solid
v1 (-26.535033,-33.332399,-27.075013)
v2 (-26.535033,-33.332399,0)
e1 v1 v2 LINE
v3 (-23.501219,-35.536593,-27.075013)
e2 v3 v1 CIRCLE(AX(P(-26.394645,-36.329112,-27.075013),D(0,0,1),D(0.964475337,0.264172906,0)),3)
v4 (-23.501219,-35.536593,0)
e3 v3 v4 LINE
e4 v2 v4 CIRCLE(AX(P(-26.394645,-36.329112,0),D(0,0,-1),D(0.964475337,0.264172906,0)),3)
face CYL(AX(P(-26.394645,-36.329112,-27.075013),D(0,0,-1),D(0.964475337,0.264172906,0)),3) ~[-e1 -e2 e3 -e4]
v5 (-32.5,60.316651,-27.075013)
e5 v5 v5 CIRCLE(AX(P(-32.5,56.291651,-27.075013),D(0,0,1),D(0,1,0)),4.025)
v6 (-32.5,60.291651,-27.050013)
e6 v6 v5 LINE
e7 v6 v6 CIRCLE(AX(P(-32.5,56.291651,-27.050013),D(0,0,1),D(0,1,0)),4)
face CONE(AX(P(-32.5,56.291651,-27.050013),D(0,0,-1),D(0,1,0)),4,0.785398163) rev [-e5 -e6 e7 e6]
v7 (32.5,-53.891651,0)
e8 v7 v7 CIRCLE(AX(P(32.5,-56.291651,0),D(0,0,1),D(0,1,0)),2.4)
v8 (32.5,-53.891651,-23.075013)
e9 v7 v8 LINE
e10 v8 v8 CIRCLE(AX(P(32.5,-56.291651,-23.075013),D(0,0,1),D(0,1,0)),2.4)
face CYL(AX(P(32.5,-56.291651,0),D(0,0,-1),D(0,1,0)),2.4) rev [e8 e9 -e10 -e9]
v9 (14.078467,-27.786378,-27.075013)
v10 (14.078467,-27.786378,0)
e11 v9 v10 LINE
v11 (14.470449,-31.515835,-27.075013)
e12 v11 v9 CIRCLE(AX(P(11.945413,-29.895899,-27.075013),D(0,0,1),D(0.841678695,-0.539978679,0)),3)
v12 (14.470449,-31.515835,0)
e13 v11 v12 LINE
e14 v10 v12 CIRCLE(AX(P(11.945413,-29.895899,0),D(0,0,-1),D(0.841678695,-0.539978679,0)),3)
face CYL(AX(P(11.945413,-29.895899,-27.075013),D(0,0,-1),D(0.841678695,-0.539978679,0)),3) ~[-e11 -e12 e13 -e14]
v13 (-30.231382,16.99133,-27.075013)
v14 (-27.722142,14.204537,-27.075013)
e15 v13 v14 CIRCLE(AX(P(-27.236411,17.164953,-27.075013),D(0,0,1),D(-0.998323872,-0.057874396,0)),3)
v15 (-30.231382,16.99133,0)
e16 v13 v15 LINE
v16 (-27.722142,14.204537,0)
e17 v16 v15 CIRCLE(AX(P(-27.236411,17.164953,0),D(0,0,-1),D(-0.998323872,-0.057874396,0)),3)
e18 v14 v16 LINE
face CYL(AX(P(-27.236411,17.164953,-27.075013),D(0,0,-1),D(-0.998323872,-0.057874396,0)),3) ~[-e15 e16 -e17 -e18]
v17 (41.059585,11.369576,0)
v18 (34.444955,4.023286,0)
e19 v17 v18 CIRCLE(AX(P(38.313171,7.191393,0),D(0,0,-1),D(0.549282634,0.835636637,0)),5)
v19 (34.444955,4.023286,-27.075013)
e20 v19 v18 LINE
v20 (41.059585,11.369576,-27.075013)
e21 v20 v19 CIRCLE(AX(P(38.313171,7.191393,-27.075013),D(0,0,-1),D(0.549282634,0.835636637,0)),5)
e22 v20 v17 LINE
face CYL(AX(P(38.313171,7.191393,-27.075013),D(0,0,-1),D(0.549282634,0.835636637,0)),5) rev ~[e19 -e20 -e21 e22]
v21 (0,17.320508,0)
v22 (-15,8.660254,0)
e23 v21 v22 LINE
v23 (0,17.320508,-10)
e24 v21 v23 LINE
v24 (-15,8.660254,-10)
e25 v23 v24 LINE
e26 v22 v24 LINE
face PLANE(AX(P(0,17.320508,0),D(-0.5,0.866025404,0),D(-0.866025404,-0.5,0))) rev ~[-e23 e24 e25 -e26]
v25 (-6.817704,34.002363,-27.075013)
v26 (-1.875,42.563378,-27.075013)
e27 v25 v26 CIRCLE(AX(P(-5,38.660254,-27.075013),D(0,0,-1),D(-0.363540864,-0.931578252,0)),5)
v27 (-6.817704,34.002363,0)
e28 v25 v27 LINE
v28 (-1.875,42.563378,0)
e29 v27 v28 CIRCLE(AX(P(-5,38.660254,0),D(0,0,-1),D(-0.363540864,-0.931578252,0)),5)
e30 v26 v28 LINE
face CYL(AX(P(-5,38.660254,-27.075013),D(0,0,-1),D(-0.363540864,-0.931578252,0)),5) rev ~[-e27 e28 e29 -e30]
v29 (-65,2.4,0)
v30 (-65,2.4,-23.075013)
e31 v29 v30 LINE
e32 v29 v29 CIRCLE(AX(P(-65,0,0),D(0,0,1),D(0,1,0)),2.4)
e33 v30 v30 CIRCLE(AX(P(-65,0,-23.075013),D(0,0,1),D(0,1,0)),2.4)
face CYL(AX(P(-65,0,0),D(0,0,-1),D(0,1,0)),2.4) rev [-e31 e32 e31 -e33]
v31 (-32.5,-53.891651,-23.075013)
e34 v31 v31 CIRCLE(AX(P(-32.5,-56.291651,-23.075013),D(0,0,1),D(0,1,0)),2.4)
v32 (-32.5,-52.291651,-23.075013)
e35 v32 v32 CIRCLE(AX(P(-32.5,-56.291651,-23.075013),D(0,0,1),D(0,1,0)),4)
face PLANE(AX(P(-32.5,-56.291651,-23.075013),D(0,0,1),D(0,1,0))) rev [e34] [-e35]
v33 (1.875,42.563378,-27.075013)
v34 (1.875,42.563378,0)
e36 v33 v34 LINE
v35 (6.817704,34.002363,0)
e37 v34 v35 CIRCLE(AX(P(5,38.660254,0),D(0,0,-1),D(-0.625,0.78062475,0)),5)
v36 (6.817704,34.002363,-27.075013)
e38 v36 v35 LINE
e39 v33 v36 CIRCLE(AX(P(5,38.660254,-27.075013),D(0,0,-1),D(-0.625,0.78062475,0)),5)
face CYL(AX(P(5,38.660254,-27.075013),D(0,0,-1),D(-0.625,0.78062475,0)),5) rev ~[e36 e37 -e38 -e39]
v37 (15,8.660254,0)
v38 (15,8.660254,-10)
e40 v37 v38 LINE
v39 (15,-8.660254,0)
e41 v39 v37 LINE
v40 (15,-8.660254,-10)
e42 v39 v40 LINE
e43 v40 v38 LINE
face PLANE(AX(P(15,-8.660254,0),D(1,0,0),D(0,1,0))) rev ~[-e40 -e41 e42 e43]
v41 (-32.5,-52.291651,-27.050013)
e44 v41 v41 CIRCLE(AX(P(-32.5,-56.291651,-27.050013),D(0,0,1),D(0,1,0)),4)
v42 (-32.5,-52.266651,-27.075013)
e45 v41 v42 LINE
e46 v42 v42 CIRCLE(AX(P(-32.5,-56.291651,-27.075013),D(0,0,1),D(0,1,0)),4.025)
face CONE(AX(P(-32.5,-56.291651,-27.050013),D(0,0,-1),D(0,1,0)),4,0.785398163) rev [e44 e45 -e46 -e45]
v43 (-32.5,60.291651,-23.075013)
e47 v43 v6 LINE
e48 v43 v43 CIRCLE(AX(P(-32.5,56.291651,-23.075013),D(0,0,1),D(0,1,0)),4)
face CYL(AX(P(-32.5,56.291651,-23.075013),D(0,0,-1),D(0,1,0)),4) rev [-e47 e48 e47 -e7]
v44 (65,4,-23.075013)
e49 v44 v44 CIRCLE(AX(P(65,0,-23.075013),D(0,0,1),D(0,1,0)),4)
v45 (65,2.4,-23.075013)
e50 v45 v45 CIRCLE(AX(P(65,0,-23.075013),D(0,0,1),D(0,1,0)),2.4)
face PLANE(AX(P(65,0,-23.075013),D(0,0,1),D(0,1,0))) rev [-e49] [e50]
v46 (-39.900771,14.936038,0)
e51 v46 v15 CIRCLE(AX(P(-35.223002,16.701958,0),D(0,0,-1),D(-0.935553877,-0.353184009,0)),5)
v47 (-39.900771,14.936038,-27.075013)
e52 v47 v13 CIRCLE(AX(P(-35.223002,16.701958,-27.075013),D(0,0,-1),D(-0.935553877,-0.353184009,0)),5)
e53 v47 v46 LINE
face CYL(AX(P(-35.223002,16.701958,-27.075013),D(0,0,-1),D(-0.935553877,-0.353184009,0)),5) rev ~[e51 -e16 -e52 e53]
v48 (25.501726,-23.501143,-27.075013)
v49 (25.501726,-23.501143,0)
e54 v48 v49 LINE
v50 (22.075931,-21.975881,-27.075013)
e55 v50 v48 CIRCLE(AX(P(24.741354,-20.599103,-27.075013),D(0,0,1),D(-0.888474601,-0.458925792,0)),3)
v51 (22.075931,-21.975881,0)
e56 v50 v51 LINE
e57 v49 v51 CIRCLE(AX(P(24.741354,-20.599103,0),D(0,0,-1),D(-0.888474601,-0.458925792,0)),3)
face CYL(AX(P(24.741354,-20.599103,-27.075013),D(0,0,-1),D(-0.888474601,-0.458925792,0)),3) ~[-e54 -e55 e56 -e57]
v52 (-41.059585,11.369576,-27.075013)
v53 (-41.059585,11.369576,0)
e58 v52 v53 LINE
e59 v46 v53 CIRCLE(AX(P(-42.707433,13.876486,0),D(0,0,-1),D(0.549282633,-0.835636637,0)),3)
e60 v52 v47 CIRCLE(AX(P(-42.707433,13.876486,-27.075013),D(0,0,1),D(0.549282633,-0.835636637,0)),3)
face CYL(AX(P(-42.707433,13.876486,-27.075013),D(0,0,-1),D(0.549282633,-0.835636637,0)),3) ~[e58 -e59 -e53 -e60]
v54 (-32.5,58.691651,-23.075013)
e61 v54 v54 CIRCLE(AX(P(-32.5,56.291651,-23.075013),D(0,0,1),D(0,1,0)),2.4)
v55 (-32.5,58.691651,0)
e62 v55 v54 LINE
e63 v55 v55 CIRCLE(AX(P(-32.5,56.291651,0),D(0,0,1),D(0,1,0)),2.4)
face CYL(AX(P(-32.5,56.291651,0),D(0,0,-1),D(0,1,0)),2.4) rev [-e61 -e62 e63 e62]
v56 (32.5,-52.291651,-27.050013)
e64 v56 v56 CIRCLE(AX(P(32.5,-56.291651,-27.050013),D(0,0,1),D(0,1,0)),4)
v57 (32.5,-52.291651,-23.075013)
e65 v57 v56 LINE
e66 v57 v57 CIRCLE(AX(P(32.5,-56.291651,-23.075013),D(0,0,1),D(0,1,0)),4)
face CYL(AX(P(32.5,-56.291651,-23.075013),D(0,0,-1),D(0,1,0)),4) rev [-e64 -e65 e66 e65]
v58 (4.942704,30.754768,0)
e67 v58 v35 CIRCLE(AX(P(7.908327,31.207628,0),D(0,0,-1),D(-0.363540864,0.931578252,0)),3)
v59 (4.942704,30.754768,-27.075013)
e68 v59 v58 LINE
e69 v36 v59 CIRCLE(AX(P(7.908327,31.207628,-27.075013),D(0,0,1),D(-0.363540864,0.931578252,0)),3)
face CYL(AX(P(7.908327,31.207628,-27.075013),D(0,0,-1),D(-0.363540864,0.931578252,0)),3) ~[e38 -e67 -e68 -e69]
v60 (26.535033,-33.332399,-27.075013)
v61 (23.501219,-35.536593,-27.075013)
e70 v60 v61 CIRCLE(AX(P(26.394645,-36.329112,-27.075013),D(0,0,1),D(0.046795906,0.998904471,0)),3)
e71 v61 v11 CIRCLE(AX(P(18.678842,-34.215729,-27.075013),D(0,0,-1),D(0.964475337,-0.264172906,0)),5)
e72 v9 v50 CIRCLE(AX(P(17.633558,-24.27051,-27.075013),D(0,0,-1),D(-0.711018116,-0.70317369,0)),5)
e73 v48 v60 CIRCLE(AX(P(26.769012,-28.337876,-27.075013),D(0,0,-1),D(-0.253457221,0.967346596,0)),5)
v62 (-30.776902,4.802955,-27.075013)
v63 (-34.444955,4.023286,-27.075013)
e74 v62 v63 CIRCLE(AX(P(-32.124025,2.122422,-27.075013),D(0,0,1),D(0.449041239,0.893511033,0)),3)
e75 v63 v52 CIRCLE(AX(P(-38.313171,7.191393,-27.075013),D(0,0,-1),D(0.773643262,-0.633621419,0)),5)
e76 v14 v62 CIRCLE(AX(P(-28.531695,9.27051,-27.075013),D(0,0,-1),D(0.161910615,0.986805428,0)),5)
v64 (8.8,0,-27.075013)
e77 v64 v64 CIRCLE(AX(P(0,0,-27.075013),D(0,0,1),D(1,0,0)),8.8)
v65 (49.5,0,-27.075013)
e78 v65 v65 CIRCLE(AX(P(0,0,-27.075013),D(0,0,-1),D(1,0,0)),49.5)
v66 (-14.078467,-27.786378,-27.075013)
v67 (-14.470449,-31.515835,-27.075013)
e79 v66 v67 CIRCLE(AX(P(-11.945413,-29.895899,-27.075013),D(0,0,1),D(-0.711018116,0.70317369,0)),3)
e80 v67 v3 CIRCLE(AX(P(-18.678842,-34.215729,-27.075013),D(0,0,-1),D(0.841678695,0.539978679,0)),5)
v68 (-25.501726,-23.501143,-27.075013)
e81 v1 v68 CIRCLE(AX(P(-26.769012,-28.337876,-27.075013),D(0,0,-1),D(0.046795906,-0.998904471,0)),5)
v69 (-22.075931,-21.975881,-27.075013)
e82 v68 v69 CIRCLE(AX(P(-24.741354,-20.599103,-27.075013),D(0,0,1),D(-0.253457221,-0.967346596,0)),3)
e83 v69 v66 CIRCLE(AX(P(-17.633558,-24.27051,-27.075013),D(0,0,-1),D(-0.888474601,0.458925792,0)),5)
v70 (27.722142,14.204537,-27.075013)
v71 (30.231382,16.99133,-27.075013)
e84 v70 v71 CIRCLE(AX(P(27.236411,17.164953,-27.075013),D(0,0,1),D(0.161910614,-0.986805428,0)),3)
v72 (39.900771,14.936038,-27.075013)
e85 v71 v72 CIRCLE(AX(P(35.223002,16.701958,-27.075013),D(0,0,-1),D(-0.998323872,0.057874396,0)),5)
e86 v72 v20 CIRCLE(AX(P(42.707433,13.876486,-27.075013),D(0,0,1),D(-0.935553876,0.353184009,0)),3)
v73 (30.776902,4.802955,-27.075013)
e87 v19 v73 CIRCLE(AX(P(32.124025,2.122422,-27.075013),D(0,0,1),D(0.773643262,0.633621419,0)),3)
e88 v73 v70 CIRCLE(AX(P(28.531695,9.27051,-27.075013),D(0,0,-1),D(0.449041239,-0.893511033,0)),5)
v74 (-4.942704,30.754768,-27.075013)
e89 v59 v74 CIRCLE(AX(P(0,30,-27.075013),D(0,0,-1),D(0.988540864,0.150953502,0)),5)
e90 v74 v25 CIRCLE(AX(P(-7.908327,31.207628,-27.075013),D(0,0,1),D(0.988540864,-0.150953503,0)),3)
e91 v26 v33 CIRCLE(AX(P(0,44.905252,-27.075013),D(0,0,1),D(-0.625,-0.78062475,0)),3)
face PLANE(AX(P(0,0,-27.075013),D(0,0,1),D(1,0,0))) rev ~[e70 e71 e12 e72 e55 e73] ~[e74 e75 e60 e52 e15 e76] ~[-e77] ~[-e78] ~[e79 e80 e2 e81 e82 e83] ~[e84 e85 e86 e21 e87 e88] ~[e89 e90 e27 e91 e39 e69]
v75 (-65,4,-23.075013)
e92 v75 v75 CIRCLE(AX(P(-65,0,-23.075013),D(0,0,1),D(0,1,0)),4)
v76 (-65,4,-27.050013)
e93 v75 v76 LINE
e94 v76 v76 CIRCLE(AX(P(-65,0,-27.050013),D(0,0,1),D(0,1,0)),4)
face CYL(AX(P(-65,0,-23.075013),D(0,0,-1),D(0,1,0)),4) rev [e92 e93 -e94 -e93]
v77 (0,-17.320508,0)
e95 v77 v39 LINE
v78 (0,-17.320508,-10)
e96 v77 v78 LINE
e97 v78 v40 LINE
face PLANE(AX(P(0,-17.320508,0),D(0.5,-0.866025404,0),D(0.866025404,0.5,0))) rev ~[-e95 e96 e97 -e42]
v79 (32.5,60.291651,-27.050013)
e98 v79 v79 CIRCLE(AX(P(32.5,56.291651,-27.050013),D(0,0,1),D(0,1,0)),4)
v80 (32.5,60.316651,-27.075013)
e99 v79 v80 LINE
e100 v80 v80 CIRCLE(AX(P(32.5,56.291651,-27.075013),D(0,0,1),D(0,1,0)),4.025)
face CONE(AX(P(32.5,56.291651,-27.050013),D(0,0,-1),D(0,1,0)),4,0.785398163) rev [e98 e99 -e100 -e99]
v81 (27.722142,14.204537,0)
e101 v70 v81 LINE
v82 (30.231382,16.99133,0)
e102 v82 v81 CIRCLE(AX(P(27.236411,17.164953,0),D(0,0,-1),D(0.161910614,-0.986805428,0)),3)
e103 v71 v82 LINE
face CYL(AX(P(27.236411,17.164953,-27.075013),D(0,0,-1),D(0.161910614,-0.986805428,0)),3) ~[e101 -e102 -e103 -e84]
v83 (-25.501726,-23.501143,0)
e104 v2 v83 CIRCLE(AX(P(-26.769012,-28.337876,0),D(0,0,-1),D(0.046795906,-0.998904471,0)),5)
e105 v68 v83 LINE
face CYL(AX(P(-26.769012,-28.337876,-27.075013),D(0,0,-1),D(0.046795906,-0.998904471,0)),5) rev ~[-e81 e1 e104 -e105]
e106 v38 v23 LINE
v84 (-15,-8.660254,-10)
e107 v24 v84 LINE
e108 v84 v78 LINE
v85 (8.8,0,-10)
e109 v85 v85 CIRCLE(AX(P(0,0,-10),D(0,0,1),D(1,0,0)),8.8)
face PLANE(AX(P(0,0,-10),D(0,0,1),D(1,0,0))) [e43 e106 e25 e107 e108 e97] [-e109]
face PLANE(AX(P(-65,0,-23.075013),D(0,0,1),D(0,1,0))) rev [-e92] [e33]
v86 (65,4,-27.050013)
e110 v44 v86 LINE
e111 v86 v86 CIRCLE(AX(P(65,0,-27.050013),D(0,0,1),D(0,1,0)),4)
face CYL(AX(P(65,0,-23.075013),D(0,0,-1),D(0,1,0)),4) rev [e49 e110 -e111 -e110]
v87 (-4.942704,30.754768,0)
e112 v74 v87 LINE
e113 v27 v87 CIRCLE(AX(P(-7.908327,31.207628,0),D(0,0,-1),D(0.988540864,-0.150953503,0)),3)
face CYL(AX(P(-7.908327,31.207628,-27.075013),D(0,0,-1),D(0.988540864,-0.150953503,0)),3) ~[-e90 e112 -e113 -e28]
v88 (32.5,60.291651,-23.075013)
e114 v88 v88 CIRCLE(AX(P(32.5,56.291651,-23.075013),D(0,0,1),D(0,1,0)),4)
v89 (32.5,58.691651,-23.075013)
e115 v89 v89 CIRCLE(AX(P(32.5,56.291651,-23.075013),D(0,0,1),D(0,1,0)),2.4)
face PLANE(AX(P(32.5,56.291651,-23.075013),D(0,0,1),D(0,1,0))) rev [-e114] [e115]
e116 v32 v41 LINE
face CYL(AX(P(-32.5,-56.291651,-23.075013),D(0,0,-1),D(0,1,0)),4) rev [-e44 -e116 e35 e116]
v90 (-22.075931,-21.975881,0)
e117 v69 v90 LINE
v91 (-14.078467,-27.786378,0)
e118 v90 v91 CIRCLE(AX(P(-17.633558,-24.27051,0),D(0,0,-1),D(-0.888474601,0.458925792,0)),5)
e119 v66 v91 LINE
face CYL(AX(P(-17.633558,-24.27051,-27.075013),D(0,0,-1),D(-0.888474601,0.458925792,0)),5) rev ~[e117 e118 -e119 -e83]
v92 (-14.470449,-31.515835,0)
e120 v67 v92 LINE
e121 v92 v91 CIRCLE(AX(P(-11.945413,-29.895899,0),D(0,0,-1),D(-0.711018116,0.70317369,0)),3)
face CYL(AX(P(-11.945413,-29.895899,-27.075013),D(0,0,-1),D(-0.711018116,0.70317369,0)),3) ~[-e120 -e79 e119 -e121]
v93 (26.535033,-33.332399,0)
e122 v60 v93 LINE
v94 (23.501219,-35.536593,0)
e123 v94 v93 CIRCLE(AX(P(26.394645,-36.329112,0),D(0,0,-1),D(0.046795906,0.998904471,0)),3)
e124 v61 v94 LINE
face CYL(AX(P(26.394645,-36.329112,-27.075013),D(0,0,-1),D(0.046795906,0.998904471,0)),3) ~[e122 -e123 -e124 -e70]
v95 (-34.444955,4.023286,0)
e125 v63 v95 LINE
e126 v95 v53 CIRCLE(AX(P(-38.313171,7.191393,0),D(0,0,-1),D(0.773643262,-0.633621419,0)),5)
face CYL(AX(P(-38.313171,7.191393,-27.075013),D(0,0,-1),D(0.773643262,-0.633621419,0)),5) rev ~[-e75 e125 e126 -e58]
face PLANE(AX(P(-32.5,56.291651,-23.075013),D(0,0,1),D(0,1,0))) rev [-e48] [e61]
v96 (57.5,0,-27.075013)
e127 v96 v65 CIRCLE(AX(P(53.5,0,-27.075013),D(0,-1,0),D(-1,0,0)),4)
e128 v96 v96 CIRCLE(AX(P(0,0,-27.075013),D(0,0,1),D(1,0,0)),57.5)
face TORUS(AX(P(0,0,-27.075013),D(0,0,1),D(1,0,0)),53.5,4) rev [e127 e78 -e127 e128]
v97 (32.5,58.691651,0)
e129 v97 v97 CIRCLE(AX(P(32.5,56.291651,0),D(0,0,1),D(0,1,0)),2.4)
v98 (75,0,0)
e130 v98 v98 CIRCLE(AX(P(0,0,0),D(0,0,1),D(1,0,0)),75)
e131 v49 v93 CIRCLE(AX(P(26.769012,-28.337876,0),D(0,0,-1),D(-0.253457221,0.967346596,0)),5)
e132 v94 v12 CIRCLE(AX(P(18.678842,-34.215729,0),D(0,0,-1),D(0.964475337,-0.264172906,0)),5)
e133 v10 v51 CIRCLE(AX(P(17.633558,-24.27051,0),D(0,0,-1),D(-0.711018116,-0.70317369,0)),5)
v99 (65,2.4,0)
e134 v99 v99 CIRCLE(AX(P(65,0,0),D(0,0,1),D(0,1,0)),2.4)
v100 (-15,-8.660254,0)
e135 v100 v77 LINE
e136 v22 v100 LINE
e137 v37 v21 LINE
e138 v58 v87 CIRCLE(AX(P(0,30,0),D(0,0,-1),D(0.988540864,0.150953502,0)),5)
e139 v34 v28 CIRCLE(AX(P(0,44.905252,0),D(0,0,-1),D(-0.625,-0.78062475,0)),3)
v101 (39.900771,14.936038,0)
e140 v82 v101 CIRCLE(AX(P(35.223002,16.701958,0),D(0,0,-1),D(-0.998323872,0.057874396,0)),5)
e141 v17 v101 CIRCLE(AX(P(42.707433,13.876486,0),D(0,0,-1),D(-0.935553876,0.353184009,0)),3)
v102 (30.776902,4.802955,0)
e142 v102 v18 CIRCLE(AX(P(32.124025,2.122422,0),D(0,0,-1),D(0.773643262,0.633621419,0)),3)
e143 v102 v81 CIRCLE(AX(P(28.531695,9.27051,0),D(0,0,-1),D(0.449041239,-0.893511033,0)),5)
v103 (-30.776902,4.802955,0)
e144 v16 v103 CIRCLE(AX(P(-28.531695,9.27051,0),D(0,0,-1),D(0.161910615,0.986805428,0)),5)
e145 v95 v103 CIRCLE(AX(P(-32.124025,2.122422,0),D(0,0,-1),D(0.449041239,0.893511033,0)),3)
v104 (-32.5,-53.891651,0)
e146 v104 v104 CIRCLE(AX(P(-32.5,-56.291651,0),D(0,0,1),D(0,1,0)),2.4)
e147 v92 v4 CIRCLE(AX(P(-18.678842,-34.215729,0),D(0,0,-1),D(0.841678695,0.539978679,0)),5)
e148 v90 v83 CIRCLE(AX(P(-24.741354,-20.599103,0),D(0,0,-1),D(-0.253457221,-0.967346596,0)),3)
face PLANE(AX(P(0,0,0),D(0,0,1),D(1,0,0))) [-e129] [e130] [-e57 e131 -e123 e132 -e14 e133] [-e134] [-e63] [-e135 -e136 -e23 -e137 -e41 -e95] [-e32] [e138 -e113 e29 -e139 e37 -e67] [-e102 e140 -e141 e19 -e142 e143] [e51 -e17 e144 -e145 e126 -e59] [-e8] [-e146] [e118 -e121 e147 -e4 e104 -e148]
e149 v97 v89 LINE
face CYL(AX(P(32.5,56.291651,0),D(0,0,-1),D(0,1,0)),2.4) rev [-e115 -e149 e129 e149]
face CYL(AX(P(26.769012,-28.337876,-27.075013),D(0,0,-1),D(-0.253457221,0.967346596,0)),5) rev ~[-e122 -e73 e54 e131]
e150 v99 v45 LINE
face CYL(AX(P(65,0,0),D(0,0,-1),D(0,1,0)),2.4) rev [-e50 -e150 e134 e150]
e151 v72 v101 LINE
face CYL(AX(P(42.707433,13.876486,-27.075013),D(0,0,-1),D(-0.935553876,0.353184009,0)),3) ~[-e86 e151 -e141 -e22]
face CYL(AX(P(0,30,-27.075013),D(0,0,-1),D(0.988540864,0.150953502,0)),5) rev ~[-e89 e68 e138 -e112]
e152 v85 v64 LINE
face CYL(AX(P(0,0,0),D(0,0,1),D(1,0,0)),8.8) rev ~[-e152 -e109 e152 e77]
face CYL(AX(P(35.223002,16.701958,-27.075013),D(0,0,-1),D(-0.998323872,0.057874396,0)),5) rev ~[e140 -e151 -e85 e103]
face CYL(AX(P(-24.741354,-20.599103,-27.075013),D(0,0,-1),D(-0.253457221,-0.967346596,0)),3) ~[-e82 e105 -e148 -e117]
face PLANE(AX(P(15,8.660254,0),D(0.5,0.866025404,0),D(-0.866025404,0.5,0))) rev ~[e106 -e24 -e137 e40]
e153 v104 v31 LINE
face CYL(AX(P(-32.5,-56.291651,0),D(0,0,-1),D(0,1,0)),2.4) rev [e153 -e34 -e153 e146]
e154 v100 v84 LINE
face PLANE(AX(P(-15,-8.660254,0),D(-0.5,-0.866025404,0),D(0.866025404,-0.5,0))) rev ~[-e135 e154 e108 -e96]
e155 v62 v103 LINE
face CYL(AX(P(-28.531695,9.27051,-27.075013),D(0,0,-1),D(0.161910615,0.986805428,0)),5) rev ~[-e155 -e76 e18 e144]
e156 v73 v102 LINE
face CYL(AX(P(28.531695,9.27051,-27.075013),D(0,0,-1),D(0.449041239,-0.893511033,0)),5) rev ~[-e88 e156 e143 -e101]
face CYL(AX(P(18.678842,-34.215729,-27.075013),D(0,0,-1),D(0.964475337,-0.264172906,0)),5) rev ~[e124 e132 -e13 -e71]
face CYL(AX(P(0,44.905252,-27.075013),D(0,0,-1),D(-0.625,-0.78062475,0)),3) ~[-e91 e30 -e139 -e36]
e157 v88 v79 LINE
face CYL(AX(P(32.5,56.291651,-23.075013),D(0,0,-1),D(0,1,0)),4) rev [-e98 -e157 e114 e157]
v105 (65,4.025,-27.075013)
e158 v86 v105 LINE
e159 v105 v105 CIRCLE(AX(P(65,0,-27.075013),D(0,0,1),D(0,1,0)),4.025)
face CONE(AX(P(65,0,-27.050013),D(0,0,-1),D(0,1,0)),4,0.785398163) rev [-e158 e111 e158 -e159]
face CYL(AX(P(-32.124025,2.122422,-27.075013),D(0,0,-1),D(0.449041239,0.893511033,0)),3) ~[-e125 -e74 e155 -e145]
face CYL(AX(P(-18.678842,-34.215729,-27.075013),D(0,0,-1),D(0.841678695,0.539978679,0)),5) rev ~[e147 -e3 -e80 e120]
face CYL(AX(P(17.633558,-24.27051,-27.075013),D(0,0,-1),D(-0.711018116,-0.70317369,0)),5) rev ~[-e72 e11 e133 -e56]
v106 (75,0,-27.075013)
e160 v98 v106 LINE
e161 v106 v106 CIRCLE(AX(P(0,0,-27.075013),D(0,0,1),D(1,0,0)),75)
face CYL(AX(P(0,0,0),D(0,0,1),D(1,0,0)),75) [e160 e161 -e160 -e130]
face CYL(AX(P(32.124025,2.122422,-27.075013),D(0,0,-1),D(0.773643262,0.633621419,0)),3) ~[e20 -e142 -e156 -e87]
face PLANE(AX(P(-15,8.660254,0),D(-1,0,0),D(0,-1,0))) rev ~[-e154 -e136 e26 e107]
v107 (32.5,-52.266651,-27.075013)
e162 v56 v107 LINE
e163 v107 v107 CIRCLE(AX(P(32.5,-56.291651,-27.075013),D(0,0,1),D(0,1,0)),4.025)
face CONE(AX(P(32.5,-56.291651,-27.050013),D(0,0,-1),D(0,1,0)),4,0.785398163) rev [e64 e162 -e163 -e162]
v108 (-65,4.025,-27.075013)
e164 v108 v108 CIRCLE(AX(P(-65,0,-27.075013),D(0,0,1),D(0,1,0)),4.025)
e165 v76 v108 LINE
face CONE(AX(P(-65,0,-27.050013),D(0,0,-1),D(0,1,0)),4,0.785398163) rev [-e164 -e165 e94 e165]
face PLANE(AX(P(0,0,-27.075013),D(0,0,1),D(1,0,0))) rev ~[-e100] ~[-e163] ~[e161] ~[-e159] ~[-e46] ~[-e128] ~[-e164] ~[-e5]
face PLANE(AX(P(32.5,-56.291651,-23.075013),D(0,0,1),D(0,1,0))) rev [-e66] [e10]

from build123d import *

# Parameters (mm, degrees)
ESBO_O1_R                        = 75
RESSALTO_EXTRUS_O1_DEPTH         = 27.075013067
ESBO_O2_R                        = 8.8
CORTE_EXTRUS_O1_DEPTH            = 110.467147275
CORTE_EXTRUS_O2_DEPTH            = 10
REBAIXO_PARA_SHCS_M41_AT_2_COUNT = 2
REBAIXO_PARA_SHCS_M41_AT_2_PITCH = 65
REBAIXO_PARA_SHCS_M41_AT_3_COUNT = 2
REBAIXO_PARA_SHCS_M41_AT_3_PITCH = 112.583302492
REBAIXO_PARA_SHCS_M41_AT_4_COUNT = 2
REBAIXO_PARA_SHCS_M41_AT_4_PITCH = 130
REBAIXO_PARA_SHCS_M41_AT_5_COUNT = 2
REBAIXO_PARA_SHCS_M41_AT_5_PITCH = 65
REBAIXO_PARA_SHCS_M41_AT_6_COUNT = 2
REBAIXO_PARA_SHCS_M41_AT_6_PITCH = 112.583302492
CORTE_EXTRUS_O3_DEPTH            = 110.467147275
PADR_OCIRCULAR1_COUNT            = 5
ESBO_O9_R                        = 4


with BuildPart() as part:
    # Esboço1 → Ressalto-extrusão1 (new body)
    with BuildSketch(Plane.XY):
        Circle(ESBO_O1_R)
    extrude(amount=-RESSALTO_EXTRUS_O1_DEPTH)

    # Esboço2 → Corte-extrusão1 (cut, through all)
    with BuildSketch(Plane.XY):
        Circle(ESBO_O2_R)
    extrude(amount=-CORTE_EXTRUS_O1_DEPTH, mode=Mode.SUBTRACT)

    # Esboço3 → Corte-extrusão2 (cut)
    with BuildSketch(Plane.XY):
        Polygon((0, 17.320508076), (-15, 8.660254038), (-15, -8.660254038), (0, -17.320508076), (15, -8.660254038), (15, 8.660254038), align=None)
    extrude(amount=-CORTE_EXTRUS_O2_DEPTH, mode=Mode.SUBTRACT)

    # Esboço5 → Rebaixo para SHCS M41 (revolve, cut)
    with BuildSketch(Plane(origin=(65, 0, -27.075013067), x_dir=(0, 1, 0), z_dir=(1, 0, 0))):
        Polygon((0, 0), (0, 27.075013067), (2.4, 27.075013067), (2.4, 4), (4, 4), (4, 0.025), (4.025, 0), align=None)
    rebaixo_para_shcs_m41 = revolve(axis=Axis((65, 0, -33.425013067), (0, 0, 1)), mode=Mode.SUBTRACT)

    # Rebaixo para SHCS M41 at 2: Rebaixo para SHCS M41 ×2
    with Locations(*[Vector(-0.49999999999999795, 0.8660254037844399, 0) * (i * REBAIXO_PARA_SHCS_M41_AT_2_PITCH) for i in range(1, REBAIXO_PARA_SHCS_M41_AT_2_COUNT)]):
        add(rebaixo_para_shcs_m41, mode=Mode.SUBTRACT)

    # Rebaixo para SHCS M41 at 3: Rebaixo para SHCS M41 ×2
    with Locations(*[Vector(-0.866025403784438, 0.500000000000001, 0) * (i * REBAIXO_PARA_SHCS_M41_AT_3_PITCH) for i in range(1, REBAIXO_PARA_SHCS_M41_AT_3_COUNT)]):
        add(rebaixo_para_shcs_m41, mode=Mode.SUBTRACT)

    # Rebaixo para SHCS M41 at 4: Rebaixo para SHCS M41 ×2
    with Locations(*[(-i * REBAIXO_PARA_SHCS_M41_AT_4_PITCH, 0, 0) for i in range(1, REBAIXO_PARA_SHCS_M41_AT_4_COUNT)]):
        add(rebaixo_para_shcs_m41, mode=Mode.SUBTRACT)

    # Rebaixo para SHCS M41 at 5: Rebaixo para SHCS M41 ×2
    with Locations(*[Vector(-0.500000000000004, -0.8660254037844364, 0) * (i * REBAIXO_PARA_SHCS_M41_AT_5_PITCH) for i in range(1, REBAIXO_PARA_SHCS_M41_AT_5_COUNT)]):
        add(rebaixo_para_shcs_m41, mode=Mode.SUBTRACT)

    # Rebaixo para SHCS M41 at 6: Rebaixo para SHCS M41 ×2
    with Locations(*[Vector(-0.8660254037844416, -0.499999999999995, 0) * (i * REBAIXO_PARA_SHCS_M41_AT_6_PITCH) for i in range(1, REBAIXO_PARA_SHCS_M41_AT_6_COUNT)]):
        add(rebaixo_para_shcs_m41, mode=Mode.SUBTRACT)

    # Esboço6 → Corte-extrusão3 (cut, through all)
    with BuildSketch(Plane(origin=(0, 0, -27.075013067), x_dir=(-1, 0, 0), z_dir=(0, 0, -1))):
        with BuildLine():
            ThreePointArc((-1.875, 42.563377787), (-9.330127019, 41.160254038), (-6.817704321, 34.002362777))
            ThreePointArc((-6.817704321, 34.002362777), (-5.310250702, 32.70762802), (-4.942704321, 30.754767512))
            ThreePointArc((-4.942704321, 30.754767512), (0, 25), (4.942704321, 30.754767512))
            ThreePointArc((4.942704321, 30.754767512), (5.310250702, 32.70762802), (6.817704321, 34.002362777))
            ThreePointArc((6.817704321, 34.002362777), (9.330127019, 41.160254038), (1.875, 42.563377787))
            ThreePointArc((1.875, 42.563377787), (0, 41.905252036), (-1.875, 42.563377787))
        make_face()
    corte_extrus_o3 = extrude(amount=-CORTE_EXTRUS_O3_DEPTH, mode=Mode.SUBTRACT)

    # PadrãoCircular1: Corte-extrusão3 ×5 about axis
    padr_ocircular1_axis = Axis((0, 0, 0), (0, 0, 1))
    for i in range(1, PADR_OCIRCULAR1_COUNT):
        add(corte_extrus_o3.rotate(padr_ocircular1_axis, i * 360 / PADR_OCIRCULAR1_COUNT), mode=Mode.SUBTRACT)

    # Esboço9 → Corte-Revolução1 (revolve, cut)
    with BuildSketch(Plane(origin=(0, 0, 0), x_dir=(1, 0, 0), z_dir=(0, 1, 0)), mode=Mode.PRIVATE) as corte_revolu_o1_sk:
        with Locations((-53.5, 27.075013067)):
            Circle(ESBO_O9_R)
    revolve(corte_revolu_o1_sk.sketch.rotate(Axis((0, 0, -10), (0, 0, -1)), 180), axis=Axis((0, 0, -10), (0, 0, -1)), mode=Mode.SUBTRACT)


solid = part.part
